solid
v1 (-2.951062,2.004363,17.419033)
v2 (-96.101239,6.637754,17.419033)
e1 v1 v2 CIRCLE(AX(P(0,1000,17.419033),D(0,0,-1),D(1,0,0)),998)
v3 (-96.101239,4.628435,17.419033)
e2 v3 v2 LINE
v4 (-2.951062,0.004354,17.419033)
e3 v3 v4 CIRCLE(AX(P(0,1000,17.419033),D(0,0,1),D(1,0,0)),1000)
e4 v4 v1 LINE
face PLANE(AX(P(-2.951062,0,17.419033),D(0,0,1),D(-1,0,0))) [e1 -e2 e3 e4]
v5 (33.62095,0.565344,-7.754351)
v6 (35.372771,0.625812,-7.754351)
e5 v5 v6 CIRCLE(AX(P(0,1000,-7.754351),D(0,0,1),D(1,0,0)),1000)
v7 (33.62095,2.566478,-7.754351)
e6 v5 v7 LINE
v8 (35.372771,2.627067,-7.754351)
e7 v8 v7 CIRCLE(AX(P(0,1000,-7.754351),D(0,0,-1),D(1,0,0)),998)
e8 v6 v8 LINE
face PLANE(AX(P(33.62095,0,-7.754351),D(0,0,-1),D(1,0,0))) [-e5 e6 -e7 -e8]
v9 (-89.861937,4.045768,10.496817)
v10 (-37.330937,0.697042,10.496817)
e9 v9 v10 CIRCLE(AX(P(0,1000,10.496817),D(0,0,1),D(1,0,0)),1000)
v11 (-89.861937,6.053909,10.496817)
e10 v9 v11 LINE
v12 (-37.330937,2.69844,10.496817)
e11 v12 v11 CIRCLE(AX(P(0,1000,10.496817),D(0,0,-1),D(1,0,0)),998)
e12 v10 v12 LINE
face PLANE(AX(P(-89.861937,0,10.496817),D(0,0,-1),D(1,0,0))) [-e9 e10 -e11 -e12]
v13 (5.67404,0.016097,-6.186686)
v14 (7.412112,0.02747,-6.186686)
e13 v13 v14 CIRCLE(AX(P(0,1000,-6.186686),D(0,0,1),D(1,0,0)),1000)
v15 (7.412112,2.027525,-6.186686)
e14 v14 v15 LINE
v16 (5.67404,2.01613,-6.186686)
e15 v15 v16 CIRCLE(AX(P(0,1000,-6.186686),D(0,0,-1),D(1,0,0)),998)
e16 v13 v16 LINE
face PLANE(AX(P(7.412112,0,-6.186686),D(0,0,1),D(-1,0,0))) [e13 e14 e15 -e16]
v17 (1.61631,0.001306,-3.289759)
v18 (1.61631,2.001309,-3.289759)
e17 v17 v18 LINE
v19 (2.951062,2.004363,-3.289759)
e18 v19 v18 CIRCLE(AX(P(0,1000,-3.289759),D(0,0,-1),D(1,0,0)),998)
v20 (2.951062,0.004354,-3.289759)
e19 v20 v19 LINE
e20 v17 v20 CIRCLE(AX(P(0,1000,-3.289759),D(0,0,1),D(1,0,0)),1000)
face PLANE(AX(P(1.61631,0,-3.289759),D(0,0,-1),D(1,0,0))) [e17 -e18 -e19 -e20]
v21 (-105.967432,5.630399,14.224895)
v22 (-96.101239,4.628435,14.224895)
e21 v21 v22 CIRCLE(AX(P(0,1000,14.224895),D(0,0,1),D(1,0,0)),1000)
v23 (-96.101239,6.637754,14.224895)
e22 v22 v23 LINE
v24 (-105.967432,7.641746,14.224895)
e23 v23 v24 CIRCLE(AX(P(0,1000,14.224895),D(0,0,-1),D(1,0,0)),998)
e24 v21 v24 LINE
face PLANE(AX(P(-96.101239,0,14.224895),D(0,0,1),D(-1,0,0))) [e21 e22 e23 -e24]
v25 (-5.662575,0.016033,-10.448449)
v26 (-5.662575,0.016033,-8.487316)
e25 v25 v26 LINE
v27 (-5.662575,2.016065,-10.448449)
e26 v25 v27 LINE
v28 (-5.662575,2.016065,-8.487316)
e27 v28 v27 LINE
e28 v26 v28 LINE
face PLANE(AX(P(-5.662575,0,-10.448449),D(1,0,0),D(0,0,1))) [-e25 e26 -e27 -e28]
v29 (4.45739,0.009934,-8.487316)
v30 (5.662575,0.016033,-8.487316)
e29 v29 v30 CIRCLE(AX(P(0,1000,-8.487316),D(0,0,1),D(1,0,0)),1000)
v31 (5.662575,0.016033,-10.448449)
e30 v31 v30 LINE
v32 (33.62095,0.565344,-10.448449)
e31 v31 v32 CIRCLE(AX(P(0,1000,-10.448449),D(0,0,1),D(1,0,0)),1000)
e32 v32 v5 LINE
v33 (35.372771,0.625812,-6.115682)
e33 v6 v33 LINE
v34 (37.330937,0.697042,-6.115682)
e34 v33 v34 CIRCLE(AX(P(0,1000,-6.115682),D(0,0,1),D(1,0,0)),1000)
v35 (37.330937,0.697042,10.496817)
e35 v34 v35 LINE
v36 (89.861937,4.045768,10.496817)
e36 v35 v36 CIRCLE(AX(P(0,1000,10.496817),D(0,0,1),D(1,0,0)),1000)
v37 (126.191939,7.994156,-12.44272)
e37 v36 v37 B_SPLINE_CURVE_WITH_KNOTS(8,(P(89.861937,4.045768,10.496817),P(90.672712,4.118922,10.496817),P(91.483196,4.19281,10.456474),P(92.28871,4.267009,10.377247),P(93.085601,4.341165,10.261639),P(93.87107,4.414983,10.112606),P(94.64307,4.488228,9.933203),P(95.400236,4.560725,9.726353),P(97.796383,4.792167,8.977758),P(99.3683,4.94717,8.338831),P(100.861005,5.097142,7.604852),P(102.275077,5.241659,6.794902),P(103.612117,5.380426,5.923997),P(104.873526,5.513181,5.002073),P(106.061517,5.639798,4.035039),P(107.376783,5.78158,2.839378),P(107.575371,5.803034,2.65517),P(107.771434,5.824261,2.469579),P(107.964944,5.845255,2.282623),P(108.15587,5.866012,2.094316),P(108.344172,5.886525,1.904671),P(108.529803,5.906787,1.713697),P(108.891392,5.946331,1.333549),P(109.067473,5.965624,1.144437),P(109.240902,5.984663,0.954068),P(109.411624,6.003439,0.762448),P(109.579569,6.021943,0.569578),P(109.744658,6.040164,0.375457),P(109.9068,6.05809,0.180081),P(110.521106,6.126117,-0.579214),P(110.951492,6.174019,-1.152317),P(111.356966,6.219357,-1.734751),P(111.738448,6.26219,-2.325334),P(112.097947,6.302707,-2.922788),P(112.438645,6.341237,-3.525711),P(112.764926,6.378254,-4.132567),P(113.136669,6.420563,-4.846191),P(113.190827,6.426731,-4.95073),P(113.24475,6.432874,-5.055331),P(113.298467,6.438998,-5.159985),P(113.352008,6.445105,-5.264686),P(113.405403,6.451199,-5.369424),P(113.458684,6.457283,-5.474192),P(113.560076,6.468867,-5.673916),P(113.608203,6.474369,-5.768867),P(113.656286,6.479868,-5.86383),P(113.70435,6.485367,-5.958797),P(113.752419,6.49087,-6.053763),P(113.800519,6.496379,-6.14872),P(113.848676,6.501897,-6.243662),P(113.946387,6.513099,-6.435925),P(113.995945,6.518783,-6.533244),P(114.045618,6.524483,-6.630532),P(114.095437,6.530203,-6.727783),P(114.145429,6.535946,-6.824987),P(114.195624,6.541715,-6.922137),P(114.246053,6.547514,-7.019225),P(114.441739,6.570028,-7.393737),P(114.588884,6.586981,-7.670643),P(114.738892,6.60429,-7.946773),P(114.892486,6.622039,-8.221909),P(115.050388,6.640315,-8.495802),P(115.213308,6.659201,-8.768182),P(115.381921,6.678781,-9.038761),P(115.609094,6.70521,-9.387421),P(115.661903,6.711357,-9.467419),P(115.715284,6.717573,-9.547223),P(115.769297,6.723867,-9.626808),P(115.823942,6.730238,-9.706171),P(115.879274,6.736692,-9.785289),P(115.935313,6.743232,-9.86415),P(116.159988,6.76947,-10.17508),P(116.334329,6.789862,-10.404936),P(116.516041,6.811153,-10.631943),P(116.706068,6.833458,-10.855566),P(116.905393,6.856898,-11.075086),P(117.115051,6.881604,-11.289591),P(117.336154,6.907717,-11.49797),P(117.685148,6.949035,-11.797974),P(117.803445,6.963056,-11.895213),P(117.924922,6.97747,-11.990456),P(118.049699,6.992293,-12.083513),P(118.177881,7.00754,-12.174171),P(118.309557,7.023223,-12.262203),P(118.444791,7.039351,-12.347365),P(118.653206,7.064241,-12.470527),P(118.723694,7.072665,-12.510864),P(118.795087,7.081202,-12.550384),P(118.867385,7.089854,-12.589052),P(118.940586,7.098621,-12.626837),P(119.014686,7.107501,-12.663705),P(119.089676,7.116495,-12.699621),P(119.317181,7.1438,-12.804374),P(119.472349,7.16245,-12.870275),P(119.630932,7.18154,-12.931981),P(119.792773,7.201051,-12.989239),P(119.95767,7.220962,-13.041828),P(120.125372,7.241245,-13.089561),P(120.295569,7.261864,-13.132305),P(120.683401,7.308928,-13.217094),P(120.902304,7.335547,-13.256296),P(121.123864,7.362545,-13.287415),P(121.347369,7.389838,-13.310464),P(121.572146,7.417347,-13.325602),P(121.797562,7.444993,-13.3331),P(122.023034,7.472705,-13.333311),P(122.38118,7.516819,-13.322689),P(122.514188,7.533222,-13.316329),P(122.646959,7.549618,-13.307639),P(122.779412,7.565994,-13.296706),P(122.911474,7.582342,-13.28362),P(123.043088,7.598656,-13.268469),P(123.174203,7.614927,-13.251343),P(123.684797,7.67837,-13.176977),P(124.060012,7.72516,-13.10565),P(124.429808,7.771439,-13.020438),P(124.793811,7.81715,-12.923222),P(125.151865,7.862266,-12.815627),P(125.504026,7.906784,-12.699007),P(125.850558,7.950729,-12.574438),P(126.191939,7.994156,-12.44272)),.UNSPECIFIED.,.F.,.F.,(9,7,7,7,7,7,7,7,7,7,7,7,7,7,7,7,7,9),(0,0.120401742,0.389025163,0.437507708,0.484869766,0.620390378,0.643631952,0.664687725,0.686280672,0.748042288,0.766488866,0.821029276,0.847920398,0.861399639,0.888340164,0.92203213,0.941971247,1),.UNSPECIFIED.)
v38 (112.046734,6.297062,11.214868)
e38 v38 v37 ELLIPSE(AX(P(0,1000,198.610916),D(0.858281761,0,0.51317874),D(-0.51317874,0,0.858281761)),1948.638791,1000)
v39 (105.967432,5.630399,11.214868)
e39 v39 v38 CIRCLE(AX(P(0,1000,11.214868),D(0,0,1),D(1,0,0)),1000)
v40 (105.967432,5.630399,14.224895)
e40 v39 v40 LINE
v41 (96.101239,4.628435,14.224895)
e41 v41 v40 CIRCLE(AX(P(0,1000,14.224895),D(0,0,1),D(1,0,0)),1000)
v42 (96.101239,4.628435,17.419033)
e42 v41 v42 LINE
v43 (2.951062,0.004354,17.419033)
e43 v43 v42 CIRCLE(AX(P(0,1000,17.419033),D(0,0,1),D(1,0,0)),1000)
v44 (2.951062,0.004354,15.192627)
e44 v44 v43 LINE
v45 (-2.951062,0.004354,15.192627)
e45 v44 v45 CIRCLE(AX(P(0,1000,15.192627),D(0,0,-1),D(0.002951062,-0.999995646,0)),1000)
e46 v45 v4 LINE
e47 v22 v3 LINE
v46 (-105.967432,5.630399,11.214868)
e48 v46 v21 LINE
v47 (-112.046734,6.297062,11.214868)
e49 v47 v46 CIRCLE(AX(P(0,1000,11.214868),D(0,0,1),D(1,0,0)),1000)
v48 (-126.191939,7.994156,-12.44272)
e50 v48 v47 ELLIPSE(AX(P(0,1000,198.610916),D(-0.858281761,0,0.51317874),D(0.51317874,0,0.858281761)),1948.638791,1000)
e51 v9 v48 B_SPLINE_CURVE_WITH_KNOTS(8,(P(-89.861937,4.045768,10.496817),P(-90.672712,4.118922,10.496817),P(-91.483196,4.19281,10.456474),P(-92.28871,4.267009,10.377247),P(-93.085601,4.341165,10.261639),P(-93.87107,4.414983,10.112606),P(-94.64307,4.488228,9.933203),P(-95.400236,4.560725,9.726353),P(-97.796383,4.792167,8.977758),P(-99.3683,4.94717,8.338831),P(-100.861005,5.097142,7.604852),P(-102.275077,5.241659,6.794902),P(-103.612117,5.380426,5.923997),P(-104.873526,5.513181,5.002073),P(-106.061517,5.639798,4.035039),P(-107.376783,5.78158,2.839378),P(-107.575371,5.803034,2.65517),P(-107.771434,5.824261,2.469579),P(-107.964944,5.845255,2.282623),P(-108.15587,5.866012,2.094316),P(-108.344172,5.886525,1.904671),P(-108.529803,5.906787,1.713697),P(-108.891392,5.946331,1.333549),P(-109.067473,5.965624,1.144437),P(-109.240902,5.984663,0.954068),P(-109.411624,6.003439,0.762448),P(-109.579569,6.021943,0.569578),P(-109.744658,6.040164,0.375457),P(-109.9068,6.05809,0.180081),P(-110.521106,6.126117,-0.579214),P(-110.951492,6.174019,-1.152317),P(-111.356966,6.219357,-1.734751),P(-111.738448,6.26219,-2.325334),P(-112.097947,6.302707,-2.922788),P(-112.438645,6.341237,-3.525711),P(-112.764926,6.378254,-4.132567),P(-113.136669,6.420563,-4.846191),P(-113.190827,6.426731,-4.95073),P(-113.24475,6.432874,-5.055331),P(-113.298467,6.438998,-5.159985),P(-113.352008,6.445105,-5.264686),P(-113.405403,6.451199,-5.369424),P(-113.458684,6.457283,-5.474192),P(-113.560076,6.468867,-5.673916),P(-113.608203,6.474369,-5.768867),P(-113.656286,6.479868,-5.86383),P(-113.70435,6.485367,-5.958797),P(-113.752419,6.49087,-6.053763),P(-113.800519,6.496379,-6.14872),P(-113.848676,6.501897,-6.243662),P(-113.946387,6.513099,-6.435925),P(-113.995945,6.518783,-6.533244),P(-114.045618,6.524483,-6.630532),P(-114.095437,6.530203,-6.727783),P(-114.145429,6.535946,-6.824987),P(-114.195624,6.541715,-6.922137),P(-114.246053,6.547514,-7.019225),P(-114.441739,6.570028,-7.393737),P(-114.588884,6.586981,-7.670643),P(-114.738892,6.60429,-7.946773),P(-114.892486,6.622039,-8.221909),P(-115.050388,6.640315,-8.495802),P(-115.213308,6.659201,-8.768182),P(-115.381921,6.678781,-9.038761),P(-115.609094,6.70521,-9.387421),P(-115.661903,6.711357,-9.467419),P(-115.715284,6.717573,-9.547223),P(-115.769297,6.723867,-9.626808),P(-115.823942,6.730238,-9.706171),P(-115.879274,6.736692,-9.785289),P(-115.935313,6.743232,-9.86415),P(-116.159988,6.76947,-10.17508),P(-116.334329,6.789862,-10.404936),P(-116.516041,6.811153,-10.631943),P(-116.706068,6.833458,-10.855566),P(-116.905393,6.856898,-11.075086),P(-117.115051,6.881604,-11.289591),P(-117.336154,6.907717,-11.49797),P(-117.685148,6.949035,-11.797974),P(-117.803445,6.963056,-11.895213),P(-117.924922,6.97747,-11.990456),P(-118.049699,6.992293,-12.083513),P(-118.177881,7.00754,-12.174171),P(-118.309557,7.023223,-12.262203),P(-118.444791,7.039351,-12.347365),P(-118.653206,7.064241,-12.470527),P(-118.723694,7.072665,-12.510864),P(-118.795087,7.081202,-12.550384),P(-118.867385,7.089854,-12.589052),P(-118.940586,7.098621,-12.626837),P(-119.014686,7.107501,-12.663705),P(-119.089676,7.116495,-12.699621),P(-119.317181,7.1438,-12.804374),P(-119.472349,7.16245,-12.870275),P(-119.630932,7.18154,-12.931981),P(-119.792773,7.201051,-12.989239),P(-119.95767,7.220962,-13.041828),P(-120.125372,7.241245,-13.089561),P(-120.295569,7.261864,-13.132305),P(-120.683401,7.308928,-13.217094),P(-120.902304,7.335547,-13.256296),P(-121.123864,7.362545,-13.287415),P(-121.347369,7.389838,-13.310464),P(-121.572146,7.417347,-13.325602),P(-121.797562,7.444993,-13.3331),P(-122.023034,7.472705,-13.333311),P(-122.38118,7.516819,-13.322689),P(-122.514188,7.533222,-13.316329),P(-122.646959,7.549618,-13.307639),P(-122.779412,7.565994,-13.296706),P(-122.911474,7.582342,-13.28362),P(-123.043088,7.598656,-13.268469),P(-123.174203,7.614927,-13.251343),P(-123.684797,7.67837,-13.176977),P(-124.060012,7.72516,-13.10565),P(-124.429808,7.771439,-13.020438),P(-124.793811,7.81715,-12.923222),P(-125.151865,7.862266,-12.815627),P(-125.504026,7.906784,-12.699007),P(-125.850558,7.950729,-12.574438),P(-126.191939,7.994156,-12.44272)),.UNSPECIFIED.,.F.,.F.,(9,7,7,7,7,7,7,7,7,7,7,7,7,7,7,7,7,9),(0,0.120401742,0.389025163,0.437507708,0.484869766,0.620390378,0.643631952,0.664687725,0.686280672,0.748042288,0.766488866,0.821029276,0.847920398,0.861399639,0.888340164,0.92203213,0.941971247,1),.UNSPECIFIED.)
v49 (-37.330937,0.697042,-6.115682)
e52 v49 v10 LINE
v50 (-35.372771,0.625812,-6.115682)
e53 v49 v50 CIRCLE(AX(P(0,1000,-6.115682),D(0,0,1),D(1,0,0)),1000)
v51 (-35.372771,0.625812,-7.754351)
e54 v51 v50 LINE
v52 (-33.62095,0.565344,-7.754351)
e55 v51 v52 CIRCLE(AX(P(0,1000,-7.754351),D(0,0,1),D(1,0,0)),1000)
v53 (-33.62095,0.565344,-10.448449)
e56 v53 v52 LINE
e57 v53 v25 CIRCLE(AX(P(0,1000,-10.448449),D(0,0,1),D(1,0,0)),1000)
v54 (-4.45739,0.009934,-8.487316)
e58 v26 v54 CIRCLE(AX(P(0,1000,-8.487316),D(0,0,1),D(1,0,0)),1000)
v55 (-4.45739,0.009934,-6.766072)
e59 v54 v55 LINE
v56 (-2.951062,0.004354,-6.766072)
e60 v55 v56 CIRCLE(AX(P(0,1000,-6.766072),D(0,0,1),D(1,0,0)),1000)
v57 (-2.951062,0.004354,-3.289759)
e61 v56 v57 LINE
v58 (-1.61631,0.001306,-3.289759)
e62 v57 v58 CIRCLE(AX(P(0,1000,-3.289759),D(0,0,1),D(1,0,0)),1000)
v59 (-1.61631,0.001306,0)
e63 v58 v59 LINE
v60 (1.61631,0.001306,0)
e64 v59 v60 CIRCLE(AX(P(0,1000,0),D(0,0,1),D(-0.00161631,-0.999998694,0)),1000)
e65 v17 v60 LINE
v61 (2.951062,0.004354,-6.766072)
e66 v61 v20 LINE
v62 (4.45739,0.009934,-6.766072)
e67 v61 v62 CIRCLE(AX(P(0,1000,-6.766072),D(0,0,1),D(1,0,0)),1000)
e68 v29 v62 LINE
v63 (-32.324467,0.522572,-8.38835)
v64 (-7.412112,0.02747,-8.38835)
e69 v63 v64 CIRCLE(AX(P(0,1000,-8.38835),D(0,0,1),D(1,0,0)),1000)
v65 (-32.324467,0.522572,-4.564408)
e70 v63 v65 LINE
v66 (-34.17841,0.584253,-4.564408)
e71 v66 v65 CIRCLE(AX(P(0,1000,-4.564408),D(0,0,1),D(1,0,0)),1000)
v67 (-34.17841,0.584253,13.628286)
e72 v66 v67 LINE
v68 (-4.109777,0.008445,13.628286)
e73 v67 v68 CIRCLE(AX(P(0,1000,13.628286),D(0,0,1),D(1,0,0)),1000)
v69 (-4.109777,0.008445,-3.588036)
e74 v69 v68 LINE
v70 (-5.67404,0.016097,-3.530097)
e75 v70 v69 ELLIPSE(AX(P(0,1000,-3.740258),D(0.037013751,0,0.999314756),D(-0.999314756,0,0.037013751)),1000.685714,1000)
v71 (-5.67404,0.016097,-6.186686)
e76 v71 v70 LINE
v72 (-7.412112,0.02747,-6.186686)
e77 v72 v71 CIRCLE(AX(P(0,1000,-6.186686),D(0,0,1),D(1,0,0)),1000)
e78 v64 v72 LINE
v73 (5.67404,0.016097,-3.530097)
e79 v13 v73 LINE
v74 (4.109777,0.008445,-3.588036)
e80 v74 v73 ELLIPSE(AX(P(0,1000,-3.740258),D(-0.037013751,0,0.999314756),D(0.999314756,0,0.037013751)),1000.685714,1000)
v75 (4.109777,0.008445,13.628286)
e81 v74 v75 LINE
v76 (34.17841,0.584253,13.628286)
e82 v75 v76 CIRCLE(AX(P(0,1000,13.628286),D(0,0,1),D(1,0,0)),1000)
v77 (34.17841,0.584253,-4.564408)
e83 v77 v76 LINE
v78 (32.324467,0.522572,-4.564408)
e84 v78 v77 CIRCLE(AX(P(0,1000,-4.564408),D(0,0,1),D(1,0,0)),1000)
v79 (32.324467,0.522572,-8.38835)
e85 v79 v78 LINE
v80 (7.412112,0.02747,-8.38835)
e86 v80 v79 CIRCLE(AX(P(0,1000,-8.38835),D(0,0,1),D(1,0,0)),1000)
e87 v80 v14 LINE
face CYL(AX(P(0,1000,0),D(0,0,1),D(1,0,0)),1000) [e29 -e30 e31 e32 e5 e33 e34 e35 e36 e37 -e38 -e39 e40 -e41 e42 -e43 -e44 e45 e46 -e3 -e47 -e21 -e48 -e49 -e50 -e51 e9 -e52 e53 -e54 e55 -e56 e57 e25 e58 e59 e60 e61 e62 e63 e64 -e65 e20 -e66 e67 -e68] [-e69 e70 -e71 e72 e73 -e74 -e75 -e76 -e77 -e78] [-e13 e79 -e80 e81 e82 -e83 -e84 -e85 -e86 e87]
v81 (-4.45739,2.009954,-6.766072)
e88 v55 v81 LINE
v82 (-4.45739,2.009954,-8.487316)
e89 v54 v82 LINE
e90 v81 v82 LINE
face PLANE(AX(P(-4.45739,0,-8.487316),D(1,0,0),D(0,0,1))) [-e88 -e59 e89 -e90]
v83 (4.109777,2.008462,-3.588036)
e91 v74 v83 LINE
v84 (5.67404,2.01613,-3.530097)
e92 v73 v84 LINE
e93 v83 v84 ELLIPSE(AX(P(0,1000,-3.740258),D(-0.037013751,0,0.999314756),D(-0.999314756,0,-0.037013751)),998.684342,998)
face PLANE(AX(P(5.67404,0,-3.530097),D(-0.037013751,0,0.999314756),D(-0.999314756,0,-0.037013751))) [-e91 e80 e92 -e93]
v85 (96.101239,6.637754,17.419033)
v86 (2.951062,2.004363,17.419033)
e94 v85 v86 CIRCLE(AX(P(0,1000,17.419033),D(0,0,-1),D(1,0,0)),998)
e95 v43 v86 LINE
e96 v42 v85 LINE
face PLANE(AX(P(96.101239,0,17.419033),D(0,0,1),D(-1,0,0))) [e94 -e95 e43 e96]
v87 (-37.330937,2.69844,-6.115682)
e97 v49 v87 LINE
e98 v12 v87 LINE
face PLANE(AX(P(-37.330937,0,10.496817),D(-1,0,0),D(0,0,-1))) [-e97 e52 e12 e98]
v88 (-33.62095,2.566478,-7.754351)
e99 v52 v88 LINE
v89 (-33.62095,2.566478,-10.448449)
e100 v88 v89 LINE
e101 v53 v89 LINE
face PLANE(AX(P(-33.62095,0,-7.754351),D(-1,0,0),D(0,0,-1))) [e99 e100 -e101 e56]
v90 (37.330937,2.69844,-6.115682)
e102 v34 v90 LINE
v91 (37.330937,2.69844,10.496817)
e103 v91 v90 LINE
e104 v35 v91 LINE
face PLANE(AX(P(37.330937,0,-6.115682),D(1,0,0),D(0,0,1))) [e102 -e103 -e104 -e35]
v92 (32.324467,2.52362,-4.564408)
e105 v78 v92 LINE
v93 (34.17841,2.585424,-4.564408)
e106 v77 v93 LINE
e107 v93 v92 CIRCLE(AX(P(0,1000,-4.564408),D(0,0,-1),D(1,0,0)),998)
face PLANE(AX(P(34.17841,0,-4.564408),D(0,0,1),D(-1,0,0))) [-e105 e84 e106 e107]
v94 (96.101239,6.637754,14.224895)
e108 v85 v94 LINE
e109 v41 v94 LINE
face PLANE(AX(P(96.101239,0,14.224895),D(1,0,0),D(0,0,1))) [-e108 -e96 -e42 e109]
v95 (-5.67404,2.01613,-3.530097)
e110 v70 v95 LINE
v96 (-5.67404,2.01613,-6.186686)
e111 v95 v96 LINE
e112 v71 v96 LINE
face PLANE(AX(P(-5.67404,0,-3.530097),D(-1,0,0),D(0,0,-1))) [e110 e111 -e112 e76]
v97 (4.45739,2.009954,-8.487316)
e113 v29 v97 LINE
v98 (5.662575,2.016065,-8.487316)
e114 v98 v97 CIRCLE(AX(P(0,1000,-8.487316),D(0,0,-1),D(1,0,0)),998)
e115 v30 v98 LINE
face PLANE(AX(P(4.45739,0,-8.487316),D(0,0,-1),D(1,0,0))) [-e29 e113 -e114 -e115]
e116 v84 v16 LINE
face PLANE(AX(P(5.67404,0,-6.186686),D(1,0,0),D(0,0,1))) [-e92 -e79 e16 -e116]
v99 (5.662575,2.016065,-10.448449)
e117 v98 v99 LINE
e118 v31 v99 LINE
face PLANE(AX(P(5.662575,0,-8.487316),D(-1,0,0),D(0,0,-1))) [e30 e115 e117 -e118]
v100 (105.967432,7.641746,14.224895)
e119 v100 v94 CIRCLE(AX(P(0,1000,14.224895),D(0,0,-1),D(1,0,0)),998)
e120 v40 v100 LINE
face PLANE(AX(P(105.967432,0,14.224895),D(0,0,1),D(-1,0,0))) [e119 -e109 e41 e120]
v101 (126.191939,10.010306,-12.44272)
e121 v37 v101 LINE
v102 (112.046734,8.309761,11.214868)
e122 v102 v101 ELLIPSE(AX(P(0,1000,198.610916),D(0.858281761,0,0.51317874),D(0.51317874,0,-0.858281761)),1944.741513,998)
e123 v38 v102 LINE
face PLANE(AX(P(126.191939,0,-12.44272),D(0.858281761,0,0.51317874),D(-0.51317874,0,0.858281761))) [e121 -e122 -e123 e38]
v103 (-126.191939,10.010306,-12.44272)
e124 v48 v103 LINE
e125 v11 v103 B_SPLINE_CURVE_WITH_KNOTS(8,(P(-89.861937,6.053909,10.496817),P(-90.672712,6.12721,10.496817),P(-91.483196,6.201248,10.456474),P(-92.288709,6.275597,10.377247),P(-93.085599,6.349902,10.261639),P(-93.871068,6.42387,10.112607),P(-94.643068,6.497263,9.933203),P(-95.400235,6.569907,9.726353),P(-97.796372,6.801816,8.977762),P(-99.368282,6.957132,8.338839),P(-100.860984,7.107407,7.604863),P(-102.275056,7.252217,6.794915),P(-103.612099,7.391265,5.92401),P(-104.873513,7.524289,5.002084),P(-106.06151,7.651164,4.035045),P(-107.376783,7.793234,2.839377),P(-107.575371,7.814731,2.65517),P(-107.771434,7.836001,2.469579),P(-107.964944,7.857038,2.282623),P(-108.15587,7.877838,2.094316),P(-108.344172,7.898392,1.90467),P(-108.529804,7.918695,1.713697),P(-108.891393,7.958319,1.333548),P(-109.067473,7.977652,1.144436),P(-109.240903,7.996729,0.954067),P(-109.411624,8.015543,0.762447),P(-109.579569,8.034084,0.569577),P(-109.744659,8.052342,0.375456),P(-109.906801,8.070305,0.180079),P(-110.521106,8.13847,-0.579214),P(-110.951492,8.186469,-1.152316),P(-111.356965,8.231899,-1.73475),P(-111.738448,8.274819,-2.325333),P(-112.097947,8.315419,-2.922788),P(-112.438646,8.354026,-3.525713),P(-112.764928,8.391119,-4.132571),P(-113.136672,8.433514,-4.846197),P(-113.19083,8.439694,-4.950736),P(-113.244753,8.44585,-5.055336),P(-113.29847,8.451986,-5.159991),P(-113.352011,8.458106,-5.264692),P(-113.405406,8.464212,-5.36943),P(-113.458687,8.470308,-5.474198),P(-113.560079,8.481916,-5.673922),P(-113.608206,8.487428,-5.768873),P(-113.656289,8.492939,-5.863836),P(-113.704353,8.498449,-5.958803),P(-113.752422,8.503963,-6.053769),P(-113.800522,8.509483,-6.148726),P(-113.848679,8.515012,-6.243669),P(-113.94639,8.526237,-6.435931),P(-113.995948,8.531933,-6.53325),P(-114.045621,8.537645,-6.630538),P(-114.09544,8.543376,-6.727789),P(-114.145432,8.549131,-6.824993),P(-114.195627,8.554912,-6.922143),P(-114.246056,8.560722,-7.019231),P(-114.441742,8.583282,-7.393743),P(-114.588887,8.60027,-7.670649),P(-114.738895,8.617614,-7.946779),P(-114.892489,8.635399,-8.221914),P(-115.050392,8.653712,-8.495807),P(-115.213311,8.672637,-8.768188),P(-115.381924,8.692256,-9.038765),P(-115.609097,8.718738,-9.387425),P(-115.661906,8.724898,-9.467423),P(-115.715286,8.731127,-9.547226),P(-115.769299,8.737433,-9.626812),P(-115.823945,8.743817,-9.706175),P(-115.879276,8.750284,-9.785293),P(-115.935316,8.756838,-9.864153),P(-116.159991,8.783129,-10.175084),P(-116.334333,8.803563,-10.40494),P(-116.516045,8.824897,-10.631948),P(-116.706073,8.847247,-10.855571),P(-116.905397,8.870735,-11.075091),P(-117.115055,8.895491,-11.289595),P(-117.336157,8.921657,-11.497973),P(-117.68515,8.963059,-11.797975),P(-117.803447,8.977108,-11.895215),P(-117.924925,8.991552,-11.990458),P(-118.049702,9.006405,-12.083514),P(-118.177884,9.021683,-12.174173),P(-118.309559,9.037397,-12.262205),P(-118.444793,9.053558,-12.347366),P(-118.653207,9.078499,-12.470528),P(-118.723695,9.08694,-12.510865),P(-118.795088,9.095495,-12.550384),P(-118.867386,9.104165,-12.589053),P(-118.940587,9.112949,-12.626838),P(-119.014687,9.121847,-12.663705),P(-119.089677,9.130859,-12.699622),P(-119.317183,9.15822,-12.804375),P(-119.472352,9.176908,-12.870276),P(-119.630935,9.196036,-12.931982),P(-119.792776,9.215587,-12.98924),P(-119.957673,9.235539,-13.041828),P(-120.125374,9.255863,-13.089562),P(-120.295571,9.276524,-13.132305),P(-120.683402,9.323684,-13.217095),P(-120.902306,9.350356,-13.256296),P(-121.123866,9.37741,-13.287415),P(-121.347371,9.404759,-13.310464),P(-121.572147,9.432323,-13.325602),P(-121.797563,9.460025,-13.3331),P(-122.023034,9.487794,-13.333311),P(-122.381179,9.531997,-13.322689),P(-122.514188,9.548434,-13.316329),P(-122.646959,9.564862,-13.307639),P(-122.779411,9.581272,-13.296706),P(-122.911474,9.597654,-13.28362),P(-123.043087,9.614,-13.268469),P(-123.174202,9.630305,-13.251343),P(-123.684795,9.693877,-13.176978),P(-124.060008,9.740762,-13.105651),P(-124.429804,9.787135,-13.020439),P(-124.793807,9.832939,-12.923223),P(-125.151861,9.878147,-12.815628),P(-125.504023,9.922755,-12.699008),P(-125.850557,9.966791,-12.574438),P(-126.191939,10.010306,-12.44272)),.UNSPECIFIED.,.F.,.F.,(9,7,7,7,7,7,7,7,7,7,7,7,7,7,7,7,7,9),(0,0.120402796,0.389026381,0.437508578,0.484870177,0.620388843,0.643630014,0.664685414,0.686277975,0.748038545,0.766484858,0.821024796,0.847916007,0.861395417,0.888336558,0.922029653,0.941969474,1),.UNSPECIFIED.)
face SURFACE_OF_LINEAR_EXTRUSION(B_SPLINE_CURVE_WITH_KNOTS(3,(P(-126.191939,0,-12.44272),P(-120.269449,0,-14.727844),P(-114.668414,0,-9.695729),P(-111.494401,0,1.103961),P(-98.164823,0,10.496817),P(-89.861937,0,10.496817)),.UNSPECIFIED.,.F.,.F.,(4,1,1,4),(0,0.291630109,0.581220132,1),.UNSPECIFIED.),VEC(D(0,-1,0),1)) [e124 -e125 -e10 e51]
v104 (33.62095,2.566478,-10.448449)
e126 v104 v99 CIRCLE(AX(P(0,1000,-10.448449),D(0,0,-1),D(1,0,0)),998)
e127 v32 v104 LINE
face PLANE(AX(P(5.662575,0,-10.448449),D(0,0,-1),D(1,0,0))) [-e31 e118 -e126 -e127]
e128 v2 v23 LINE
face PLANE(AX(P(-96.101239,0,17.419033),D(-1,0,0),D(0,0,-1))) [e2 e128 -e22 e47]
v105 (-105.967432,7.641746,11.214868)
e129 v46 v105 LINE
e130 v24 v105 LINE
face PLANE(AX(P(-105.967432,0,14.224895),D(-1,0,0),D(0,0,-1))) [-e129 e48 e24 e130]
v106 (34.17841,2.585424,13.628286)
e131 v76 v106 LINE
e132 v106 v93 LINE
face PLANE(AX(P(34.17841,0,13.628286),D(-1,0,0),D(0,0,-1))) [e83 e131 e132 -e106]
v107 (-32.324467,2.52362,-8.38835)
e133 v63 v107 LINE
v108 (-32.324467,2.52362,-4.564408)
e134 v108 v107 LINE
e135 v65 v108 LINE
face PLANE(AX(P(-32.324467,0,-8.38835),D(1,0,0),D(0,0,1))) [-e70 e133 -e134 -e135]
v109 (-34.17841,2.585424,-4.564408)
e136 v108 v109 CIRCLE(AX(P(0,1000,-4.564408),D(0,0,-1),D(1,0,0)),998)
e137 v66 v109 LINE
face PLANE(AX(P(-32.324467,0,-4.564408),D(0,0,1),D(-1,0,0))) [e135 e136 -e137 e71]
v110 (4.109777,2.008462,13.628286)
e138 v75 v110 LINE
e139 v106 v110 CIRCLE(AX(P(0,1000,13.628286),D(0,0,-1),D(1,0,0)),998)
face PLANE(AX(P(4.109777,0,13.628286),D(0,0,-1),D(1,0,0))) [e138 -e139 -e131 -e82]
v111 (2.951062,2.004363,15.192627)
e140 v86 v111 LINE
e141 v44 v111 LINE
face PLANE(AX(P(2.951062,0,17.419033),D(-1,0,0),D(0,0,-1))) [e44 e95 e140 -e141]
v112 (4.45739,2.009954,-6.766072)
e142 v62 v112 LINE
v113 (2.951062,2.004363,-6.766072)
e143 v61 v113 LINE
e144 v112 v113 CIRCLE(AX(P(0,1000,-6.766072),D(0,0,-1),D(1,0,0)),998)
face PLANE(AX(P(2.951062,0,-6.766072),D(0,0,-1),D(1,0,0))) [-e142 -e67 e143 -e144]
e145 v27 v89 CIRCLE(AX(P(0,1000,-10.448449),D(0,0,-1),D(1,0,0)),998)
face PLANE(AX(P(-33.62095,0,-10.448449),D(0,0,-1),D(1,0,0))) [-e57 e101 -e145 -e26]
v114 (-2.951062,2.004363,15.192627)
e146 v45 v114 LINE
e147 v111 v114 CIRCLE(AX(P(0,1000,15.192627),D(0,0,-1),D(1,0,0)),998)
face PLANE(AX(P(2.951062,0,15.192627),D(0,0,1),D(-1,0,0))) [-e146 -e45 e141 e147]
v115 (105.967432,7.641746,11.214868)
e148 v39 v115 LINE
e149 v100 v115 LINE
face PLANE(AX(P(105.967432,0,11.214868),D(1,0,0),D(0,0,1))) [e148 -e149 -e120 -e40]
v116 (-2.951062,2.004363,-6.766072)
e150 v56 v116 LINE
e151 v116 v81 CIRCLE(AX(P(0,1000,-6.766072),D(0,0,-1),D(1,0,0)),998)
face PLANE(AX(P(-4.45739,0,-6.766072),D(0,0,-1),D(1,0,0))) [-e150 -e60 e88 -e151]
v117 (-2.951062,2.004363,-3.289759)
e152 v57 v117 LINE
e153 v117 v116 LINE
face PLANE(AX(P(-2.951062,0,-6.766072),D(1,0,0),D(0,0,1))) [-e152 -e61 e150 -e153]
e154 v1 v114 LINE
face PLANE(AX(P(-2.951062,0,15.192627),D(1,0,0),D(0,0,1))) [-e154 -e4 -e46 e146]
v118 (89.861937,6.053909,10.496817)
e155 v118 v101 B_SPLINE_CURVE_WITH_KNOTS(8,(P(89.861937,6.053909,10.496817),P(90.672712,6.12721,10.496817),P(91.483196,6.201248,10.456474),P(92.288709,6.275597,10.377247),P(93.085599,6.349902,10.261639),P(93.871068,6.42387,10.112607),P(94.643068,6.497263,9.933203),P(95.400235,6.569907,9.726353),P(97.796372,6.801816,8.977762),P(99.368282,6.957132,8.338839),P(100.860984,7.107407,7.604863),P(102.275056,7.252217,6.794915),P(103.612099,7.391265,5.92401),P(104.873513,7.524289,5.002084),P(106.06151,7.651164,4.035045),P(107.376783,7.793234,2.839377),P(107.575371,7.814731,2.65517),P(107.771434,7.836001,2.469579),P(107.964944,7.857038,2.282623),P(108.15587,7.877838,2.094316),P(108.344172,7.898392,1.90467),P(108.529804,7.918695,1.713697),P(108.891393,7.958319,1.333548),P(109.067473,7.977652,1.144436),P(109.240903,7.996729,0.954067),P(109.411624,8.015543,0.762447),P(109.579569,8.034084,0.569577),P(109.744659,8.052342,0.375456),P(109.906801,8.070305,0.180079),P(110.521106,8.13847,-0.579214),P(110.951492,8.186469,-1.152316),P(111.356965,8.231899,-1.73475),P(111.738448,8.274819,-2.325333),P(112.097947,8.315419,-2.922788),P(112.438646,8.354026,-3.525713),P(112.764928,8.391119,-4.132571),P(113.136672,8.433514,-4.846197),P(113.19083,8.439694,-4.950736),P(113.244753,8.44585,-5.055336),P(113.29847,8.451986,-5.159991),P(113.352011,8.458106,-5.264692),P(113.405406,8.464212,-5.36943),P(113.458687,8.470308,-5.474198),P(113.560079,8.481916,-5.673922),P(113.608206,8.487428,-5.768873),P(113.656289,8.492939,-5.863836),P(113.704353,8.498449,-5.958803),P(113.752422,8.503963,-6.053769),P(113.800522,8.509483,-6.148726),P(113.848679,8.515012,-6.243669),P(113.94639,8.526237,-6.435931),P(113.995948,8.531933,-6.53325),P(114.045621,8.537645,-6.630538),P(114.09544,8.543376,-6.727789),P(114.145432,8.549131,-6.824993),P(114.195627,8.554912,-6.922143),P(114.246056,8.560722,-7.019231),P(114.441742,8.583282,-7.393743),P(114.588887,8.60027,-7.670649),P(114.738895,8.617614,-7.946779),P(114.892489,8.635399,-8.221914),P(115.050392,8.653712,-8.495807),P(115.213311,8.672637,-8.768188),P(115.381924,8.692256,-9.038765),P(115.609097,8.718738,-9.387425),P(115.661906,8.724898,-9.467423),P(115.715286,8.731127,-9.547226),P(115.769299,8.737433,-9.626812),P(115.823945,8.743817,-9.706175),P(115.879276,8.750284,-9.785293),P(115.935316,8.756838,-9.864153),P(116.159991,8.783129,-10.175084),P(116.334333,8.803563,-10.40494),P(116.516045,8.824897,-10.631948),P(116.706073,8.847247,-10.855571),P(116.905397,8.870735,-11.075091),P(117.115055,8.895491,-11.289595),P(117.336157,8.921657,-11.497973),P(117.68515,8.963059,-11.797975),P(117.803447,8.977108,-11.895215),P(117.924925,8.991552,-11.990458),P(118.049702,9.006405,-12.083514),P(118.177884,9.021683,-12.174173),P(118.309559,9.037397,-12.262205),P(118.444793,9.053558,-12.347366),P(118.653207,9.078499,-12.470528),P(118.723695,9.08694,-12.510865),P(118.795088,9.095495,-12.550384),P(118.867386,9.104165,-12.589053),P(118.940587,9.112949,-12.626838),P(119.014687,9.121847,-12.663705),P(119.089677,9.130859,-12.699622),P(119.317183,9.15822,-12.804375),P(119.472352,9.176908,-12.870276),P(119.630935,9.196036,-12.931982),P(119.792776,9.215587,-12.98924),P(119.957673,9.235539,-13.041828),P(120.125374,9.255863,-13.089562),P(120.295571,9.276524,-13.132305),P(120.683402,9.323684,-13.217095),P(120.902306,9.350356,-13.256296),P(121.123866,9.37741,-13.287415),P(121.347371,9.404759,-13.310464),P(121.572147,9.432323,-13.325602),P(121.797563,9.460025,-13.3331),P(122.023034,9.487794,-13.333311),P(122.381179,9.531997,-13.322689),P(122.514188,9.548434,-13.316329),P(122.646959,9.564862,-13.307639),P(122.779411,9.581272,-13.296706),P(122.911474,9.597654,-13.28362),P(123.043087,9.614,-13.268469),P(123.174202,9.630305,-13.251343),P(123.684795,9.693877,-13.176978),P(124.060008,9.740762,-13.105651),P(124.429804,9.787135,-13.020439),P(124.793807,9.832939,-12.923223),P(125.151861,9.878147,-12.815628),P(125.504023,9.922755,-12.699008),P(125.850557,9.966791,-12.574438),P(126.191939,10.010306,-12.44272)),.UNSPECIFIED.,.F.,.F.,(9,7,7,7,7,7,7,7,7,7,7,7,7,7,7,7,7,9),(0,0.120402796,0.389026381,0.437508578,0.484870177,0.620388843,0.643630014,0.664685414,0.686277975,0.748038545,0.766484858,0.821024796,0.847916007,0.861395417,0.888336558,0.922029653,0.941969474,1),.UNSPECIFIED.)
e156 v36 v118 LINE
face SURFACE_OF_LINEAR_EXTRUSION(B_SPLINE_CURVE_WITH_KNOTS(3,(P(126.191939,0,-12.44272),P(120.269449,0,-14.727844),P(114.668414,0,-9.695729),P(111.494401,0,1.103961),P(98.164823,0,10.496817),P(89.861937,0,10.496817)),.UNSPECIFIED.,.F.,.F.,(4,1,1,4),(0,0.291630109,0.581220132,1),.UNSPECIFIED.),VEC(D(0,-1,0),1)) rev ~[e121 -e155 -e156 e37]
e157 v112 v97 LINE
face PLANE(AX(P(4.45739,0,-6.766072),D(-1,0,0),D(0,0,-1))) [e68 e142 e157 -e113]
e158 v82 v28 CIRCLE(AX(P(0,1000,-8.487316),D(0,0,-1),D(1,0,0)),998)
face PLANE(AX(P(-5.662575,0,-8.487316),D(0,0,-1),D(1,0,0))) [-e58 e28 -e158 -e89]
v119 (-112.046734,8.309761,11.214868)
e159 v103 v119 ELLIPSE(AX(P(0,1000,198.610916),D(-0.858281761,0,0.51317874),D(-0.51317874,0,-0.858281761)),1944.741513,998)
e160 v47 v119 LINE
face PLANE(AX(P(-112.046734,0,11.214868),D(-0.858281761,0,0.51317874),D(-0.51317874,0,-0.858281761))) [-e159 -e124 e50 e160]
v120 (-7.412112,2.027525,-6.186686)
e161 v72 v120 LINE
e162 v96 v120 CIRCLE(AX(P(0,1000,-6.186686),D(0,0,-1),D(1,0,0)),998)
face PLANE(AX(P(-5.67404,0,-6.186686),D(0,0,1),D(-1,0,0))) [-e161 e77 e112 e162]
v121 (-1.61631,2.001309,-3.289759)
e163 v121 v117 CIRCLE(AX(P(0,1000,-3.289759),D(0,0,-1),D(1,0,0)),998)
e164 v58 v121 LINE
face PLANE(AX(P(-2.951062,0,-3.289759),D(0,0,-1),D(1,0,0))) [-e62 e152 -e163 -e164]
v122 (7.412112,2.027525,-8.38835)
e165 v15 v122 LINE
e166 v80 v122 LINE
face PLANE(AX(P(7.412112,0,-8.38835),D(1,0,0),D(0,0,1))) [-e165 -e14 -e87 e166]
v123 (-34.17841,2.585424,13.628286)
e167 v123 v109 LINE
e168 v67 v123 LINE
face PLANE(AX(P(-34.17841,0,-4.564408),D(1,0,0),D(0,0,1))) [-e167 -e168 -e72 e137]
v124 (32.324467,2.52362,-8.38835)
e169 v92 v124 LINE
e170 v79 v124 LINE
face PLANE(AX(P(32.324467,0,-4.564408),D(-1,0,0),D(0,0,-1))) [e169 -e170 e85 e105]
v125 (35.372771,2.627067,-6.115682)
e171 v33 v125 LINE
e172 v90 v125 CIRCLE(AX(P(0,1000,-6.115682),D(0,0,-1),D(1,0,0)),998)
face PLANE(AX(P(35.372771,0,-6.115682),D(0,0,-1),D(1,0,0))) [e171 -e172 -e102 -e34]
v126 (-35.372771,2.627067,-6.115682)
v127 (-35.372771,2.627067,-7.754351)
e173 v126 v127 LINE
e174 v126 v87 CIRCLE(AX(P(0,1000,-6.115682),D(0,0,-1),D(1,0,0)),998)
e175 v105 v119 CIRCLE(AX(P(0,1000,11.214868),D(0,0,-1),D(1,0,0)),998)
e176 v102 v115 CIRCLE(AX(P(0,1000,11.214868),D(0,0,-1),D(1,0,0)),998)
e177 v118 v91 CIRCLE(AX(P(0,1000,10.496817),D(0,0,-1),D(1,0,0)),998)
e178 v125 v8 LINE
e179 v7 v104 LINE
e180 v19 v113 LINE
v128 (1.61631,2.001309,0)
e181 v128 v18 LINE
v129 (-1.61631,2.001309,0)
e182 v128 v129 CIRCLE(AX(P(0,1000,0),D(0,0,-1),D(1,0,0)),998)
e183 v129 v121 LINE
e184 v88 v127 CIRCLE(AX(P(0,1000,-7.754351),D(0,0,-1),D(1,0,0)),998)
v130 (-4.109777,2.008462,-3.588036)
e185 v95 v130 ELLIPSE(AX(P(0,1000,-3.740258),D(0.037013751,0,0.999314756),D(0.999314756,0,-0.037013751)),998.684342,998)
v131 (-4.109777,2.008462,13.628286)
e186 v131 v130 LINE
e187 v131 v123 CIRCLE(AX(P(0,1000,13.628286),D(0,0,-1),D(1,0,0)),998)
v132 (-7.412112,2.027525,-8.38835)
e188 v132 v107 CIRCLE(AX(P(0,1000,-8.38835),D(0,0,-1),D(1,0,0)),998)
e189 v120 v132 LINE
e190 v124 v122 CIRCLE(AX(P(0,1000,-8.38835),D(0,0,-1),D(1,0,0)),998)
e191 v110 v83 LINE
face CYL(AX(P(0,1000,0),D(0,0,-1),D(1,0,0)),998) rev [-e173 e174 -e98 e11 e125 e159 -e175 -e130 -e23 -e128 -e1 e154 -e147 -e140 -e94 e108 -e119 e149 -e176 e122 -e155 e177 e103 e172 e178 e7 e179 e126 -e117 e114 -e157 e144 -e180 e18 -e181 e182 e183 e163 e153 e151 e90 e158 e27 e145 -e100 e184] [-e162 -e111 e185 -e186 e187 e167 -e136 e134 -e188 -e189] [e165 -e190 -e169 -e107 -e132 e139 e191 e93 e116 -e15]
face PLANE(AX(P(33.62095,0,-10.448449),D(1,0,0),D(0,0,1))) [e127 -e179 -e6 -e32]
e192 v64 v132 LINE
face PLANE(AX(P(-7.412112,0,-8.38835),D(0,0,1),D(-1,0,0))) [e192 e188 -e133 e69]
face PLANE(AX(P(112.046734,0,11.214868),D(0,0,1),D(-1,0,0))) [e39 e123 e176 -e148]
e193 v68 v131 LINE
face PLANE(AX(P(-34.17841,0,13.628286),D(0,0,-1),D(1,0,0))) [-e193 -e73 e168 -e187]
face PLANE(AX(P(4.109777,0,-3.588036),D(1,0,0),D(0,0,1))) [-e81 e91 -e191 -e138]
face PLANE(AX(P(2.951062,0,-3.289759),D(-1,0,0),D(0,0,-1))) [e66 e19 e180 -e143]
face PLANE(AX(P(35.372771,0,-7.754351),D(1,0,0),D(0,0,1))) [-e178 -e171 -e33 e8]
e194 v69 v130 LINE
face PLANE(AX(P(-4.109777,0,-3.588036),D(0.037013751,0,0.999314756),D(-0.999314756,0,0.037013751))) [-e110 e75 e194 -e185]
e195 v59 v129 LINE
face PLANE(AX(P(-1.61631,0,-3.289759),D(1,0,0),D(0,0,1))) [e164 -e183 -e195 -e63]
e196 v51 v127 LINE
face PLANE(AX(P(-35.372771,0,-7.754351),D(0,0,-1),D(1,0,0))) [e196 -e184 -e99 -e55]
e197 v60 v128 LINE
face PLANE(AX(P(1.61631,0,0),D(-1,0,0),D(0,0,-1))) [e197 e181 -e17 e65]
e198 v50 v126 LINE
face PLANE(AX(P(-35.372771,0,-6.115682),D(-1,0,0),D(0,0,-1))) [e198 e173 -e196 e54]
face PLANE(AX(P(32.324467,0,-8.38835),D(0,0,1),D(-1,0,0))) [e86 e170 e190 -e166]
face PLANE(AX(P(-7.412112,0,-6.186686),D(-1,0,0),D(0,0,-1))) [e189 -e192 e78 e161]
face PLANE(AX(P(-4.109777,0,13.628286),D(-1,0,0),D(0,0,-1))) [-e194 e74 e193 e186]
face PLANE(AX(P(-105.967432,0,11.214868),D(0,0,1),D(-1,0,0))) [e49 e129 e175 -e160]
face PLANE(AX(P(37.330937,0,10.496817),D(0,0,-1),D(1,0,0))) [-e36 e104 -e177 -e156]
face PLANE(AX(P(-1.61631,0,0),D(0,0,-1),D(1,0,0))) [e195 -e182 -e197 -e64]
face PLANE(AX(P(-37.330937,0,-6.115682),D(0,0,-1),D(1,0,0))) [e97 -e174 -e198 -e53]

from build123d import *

# Parameters (mm, degrees)
F0_R     = 1000
F0_R_2   = 998
F1_DEPTH = 25
F3_DEPTH = 25


with BuildPart() as f1:
    # F0 (on Top) → F1 (new body, symmetric)
    with BuildSketch(Plane.XY):
        with Locations((0, 1000)):
            Circle(F0_R)
        with Locations((0, 1000)):
            Circle(F0_R_2, mode=Mode.SUBTRACT)
    extrude(amount=F1_DEPTH, both=True)

    # F2 (on Front) → F3 (intersect)
    with BuildSketch(Plane.XZ):
        with BuildLine():
            Line((-1.616309979, 0), (0, 0))
            Line((0, 0), (1.616309979, 0))
            Line((1.616309979, 0), (1.616309979, -3.2897594204))
            Line((1.616309979, -3.2897594204), (2.9510622844, -3.2897594204))
            Line((2.9510622844, -3.2897594204), (2.9510622844, -6.7660715715))
            Line((2.9510622844, -6.7660715715), (4.4573904015, -6.7660715715))
            Line((4.4573904015, -6.7660715715), (4.4573904015, -8.4873163426))
            Line((4.4573904015, -8.4873163426), (5.6625748985, -8.4873163426))
            Line((5.6625748985, -8.4873163426), (5.6625748985, -10.4484493197))
            Line((5.6625748985, -10.4484493197), (33.6209498346, -10.4484493197))
            Line((33.6209498346, -10.4484493197), (33.6209498346, -7.7543510409))
            Line((33.6209498346, -7.7543510409), (35.3727713227, -7.7543510409))
            Line((35.3727713227, -7.7543510409), (35.3727713227, -6.1156815202))
            Line((35.3727713227, -6.1156815202), (37.3309366405, -6.1156815202))
            Line((37.3309366405, -6.1156815202), (37.3309366405, 10.4968165694))
            Line((37.3309366405, 10.4968165694), (39.1029454768, 10.4968165694))
            Line((39.1029454768, 10.4968165694), (89.8619368672, 10.4968165694))
            add(Edge.make_bspline(
                [(126.191938709, -12.4427201226), (120.2694493498, -14.7278444711), (114.6684140146, -9.6957288454), (111.4944007362, 1.103961054), (98.1648231668, 10.4968165694), (89.8619368672, 10.4968165694)],
                knots=[0, 0, 0, 0, 0.2916301086, 0.5812201323, 1, 1, 1, 1], degree=3))
            Line((126.191938709, -12.4427201226), (112.0467338183, 11.2148681656))
            Line((112.0467338183, 11.2148681656), (105.9674322605, 11.2148681656))
            Line((105.9674322605, 11.2148681656), (105.9674322605, 14.2248952761))
            Line((105.9674322605, 14.2248952761), (96.1012393236, 14.2248952761))
            Line((96.1012393236, 14.2248952761), (96.1012393236, 17.4190327525))
            Line((96.1012393236, 17.4190327525), (39.1029454768, 17.4190327525))
            Line((39.1029454768, 17.4190327525), (2.9510622844, 17.4190327525))
            Line((2.9510622844, 17.4190327525), (2.9510622844, 15.192626947))
            Line((2.9510622844, 15.192626947), (0, 15.192626947))
            Line((0, 15.192626947), (-2.9510622844, 15.192626947))
            Line((-2.9510622844, 15.192626947), (-2.9510622844, 17.4190327525))
            Line((-2.9510622844, 17.4190327525), (-39.1029454768, 17.4190327525))
            Line((-39.1029454768, 17.4190327525), (-39.1029454768, 10.4968165694))
            Line((-39.1029454768, 10.4968165694), (-37.3309366405, 10.4968165694))
            Line((-37.3309366405, 10.4968165694), (-37.3309366405, -6.1156815202))
            Line((-37.3309366405, -6.1156815202), (-35.3727713227, -6.1156815202))
            Line((-35.3727713227, -6.1156815202), (-35.3727713227, -7.7543510409))
            Line((-35.3727713227, -7.7543510409), (-33.6209498346, -7.7543510409))
            Line((-33.6209498346, -7.7543510409), (-33.6209498346, -10.4484493197))
            Line((-33.6209498346, -10.4484493197), (-5.6625748985, -10.4484493197))
            Line((-5.6625748985, -10.4484493197), (-5.6625748985, -8.4873163426))
            Line((-5.6625748985, -8.4873163426), (-4.4573904015, -8.4873163426))
            Line((-4.4573904015, -8.4873163426), (-4.4573904015, -6.7660715715))
            Line((-4.4573904015, -6.7660715715), (-2.9510622844, -6.7660715715))
            Line((-2.9510622844, -6.7660715715), (-2.9510622844, -3.2897594204))
            Line((-2.9510622844, -3.2897594204), (-1.616309979, -3.2897594204))
            Line((-1.616309979, -3.2897594204), (-1.616309979, 0))
        make_face()
        Polygon((-5.6740404107, -6.1866864562), (-7.4121118523, -6.1866864562), (-7.4121118523, -8.3883497864), (-32.3244668543, -8.3883497864), (-32.3244668543, -4.5644077472), (-34.1784097254, -4.5644077472), (-34.1784097254, 13.6282863095), (-4.1097765788, 13.6282863095), (-4.1097765788, -3.5880359381), (-5.6740404107, -3.5300969637), align=None, mode=Mode.SUBTRACT)
        Polygon((5.6740404107, -3.5300969637), (4.1097765788, -3.5880359381), (4.1097765788, 13.6282863095), (34.1784097254, 13.6282863095), (34.1784097254, -4.5644077472), (32.3244668543, -4.5644077472), (32.3244668543, -8.3883497864), (7.4121118523, -8.3883497864), (7.4121118523, -6.1866864562), (5.6740404107, -6.1866864562), align=None, mode=Mode.SUBTRACT)
        with BuildLine():
            Line((-89.8619368672, 10.4968165694), (-39.1029454768, 10.4968165694))
            Line((-39.1029454768, 10.4968165694), (-39.1029454768, 17.4190327525))
            Line((-39.1029454768, 17.4190327525), (-96.1012393236, 17.4190327525))
            Line((-96.1012393236, 17.4190327525), (-96.1012393236, 14.2248952761))
            Line((-96.1012393236, 14.2248952761), (-105.9674322605, 14.2248952761))
            Line((-105.9674322605, 14.2248952761), (-105.9674322605, 11.2148681656))
            Line((-105.9674322605, 11.2148681656), (-112.0467338183, 11.2148681656))
            Line((-112.0467338183, 11.2148681656), (-126.191938709, -12.4427201226))
            add(Edge.make_bspline(
                [(-126.191938709, -12.4427201226), (-120.2694493498, -14.7278444711), (-114.6684140146, -9.6957288454), (-111.4944007362, 1.103961054), (-98.1648231668, 10.4968165694), (-89.8619368672, 10.4968165694)],
                knots=[0, 0, 0, 0, 0.2916301086, 0.5812201323, 1, 1, 1, 1], degree=3))
        make_face()
    extrude(amount=-F3_DEPTH, mode=Mode.INTERSECT)


solid = f1.part
